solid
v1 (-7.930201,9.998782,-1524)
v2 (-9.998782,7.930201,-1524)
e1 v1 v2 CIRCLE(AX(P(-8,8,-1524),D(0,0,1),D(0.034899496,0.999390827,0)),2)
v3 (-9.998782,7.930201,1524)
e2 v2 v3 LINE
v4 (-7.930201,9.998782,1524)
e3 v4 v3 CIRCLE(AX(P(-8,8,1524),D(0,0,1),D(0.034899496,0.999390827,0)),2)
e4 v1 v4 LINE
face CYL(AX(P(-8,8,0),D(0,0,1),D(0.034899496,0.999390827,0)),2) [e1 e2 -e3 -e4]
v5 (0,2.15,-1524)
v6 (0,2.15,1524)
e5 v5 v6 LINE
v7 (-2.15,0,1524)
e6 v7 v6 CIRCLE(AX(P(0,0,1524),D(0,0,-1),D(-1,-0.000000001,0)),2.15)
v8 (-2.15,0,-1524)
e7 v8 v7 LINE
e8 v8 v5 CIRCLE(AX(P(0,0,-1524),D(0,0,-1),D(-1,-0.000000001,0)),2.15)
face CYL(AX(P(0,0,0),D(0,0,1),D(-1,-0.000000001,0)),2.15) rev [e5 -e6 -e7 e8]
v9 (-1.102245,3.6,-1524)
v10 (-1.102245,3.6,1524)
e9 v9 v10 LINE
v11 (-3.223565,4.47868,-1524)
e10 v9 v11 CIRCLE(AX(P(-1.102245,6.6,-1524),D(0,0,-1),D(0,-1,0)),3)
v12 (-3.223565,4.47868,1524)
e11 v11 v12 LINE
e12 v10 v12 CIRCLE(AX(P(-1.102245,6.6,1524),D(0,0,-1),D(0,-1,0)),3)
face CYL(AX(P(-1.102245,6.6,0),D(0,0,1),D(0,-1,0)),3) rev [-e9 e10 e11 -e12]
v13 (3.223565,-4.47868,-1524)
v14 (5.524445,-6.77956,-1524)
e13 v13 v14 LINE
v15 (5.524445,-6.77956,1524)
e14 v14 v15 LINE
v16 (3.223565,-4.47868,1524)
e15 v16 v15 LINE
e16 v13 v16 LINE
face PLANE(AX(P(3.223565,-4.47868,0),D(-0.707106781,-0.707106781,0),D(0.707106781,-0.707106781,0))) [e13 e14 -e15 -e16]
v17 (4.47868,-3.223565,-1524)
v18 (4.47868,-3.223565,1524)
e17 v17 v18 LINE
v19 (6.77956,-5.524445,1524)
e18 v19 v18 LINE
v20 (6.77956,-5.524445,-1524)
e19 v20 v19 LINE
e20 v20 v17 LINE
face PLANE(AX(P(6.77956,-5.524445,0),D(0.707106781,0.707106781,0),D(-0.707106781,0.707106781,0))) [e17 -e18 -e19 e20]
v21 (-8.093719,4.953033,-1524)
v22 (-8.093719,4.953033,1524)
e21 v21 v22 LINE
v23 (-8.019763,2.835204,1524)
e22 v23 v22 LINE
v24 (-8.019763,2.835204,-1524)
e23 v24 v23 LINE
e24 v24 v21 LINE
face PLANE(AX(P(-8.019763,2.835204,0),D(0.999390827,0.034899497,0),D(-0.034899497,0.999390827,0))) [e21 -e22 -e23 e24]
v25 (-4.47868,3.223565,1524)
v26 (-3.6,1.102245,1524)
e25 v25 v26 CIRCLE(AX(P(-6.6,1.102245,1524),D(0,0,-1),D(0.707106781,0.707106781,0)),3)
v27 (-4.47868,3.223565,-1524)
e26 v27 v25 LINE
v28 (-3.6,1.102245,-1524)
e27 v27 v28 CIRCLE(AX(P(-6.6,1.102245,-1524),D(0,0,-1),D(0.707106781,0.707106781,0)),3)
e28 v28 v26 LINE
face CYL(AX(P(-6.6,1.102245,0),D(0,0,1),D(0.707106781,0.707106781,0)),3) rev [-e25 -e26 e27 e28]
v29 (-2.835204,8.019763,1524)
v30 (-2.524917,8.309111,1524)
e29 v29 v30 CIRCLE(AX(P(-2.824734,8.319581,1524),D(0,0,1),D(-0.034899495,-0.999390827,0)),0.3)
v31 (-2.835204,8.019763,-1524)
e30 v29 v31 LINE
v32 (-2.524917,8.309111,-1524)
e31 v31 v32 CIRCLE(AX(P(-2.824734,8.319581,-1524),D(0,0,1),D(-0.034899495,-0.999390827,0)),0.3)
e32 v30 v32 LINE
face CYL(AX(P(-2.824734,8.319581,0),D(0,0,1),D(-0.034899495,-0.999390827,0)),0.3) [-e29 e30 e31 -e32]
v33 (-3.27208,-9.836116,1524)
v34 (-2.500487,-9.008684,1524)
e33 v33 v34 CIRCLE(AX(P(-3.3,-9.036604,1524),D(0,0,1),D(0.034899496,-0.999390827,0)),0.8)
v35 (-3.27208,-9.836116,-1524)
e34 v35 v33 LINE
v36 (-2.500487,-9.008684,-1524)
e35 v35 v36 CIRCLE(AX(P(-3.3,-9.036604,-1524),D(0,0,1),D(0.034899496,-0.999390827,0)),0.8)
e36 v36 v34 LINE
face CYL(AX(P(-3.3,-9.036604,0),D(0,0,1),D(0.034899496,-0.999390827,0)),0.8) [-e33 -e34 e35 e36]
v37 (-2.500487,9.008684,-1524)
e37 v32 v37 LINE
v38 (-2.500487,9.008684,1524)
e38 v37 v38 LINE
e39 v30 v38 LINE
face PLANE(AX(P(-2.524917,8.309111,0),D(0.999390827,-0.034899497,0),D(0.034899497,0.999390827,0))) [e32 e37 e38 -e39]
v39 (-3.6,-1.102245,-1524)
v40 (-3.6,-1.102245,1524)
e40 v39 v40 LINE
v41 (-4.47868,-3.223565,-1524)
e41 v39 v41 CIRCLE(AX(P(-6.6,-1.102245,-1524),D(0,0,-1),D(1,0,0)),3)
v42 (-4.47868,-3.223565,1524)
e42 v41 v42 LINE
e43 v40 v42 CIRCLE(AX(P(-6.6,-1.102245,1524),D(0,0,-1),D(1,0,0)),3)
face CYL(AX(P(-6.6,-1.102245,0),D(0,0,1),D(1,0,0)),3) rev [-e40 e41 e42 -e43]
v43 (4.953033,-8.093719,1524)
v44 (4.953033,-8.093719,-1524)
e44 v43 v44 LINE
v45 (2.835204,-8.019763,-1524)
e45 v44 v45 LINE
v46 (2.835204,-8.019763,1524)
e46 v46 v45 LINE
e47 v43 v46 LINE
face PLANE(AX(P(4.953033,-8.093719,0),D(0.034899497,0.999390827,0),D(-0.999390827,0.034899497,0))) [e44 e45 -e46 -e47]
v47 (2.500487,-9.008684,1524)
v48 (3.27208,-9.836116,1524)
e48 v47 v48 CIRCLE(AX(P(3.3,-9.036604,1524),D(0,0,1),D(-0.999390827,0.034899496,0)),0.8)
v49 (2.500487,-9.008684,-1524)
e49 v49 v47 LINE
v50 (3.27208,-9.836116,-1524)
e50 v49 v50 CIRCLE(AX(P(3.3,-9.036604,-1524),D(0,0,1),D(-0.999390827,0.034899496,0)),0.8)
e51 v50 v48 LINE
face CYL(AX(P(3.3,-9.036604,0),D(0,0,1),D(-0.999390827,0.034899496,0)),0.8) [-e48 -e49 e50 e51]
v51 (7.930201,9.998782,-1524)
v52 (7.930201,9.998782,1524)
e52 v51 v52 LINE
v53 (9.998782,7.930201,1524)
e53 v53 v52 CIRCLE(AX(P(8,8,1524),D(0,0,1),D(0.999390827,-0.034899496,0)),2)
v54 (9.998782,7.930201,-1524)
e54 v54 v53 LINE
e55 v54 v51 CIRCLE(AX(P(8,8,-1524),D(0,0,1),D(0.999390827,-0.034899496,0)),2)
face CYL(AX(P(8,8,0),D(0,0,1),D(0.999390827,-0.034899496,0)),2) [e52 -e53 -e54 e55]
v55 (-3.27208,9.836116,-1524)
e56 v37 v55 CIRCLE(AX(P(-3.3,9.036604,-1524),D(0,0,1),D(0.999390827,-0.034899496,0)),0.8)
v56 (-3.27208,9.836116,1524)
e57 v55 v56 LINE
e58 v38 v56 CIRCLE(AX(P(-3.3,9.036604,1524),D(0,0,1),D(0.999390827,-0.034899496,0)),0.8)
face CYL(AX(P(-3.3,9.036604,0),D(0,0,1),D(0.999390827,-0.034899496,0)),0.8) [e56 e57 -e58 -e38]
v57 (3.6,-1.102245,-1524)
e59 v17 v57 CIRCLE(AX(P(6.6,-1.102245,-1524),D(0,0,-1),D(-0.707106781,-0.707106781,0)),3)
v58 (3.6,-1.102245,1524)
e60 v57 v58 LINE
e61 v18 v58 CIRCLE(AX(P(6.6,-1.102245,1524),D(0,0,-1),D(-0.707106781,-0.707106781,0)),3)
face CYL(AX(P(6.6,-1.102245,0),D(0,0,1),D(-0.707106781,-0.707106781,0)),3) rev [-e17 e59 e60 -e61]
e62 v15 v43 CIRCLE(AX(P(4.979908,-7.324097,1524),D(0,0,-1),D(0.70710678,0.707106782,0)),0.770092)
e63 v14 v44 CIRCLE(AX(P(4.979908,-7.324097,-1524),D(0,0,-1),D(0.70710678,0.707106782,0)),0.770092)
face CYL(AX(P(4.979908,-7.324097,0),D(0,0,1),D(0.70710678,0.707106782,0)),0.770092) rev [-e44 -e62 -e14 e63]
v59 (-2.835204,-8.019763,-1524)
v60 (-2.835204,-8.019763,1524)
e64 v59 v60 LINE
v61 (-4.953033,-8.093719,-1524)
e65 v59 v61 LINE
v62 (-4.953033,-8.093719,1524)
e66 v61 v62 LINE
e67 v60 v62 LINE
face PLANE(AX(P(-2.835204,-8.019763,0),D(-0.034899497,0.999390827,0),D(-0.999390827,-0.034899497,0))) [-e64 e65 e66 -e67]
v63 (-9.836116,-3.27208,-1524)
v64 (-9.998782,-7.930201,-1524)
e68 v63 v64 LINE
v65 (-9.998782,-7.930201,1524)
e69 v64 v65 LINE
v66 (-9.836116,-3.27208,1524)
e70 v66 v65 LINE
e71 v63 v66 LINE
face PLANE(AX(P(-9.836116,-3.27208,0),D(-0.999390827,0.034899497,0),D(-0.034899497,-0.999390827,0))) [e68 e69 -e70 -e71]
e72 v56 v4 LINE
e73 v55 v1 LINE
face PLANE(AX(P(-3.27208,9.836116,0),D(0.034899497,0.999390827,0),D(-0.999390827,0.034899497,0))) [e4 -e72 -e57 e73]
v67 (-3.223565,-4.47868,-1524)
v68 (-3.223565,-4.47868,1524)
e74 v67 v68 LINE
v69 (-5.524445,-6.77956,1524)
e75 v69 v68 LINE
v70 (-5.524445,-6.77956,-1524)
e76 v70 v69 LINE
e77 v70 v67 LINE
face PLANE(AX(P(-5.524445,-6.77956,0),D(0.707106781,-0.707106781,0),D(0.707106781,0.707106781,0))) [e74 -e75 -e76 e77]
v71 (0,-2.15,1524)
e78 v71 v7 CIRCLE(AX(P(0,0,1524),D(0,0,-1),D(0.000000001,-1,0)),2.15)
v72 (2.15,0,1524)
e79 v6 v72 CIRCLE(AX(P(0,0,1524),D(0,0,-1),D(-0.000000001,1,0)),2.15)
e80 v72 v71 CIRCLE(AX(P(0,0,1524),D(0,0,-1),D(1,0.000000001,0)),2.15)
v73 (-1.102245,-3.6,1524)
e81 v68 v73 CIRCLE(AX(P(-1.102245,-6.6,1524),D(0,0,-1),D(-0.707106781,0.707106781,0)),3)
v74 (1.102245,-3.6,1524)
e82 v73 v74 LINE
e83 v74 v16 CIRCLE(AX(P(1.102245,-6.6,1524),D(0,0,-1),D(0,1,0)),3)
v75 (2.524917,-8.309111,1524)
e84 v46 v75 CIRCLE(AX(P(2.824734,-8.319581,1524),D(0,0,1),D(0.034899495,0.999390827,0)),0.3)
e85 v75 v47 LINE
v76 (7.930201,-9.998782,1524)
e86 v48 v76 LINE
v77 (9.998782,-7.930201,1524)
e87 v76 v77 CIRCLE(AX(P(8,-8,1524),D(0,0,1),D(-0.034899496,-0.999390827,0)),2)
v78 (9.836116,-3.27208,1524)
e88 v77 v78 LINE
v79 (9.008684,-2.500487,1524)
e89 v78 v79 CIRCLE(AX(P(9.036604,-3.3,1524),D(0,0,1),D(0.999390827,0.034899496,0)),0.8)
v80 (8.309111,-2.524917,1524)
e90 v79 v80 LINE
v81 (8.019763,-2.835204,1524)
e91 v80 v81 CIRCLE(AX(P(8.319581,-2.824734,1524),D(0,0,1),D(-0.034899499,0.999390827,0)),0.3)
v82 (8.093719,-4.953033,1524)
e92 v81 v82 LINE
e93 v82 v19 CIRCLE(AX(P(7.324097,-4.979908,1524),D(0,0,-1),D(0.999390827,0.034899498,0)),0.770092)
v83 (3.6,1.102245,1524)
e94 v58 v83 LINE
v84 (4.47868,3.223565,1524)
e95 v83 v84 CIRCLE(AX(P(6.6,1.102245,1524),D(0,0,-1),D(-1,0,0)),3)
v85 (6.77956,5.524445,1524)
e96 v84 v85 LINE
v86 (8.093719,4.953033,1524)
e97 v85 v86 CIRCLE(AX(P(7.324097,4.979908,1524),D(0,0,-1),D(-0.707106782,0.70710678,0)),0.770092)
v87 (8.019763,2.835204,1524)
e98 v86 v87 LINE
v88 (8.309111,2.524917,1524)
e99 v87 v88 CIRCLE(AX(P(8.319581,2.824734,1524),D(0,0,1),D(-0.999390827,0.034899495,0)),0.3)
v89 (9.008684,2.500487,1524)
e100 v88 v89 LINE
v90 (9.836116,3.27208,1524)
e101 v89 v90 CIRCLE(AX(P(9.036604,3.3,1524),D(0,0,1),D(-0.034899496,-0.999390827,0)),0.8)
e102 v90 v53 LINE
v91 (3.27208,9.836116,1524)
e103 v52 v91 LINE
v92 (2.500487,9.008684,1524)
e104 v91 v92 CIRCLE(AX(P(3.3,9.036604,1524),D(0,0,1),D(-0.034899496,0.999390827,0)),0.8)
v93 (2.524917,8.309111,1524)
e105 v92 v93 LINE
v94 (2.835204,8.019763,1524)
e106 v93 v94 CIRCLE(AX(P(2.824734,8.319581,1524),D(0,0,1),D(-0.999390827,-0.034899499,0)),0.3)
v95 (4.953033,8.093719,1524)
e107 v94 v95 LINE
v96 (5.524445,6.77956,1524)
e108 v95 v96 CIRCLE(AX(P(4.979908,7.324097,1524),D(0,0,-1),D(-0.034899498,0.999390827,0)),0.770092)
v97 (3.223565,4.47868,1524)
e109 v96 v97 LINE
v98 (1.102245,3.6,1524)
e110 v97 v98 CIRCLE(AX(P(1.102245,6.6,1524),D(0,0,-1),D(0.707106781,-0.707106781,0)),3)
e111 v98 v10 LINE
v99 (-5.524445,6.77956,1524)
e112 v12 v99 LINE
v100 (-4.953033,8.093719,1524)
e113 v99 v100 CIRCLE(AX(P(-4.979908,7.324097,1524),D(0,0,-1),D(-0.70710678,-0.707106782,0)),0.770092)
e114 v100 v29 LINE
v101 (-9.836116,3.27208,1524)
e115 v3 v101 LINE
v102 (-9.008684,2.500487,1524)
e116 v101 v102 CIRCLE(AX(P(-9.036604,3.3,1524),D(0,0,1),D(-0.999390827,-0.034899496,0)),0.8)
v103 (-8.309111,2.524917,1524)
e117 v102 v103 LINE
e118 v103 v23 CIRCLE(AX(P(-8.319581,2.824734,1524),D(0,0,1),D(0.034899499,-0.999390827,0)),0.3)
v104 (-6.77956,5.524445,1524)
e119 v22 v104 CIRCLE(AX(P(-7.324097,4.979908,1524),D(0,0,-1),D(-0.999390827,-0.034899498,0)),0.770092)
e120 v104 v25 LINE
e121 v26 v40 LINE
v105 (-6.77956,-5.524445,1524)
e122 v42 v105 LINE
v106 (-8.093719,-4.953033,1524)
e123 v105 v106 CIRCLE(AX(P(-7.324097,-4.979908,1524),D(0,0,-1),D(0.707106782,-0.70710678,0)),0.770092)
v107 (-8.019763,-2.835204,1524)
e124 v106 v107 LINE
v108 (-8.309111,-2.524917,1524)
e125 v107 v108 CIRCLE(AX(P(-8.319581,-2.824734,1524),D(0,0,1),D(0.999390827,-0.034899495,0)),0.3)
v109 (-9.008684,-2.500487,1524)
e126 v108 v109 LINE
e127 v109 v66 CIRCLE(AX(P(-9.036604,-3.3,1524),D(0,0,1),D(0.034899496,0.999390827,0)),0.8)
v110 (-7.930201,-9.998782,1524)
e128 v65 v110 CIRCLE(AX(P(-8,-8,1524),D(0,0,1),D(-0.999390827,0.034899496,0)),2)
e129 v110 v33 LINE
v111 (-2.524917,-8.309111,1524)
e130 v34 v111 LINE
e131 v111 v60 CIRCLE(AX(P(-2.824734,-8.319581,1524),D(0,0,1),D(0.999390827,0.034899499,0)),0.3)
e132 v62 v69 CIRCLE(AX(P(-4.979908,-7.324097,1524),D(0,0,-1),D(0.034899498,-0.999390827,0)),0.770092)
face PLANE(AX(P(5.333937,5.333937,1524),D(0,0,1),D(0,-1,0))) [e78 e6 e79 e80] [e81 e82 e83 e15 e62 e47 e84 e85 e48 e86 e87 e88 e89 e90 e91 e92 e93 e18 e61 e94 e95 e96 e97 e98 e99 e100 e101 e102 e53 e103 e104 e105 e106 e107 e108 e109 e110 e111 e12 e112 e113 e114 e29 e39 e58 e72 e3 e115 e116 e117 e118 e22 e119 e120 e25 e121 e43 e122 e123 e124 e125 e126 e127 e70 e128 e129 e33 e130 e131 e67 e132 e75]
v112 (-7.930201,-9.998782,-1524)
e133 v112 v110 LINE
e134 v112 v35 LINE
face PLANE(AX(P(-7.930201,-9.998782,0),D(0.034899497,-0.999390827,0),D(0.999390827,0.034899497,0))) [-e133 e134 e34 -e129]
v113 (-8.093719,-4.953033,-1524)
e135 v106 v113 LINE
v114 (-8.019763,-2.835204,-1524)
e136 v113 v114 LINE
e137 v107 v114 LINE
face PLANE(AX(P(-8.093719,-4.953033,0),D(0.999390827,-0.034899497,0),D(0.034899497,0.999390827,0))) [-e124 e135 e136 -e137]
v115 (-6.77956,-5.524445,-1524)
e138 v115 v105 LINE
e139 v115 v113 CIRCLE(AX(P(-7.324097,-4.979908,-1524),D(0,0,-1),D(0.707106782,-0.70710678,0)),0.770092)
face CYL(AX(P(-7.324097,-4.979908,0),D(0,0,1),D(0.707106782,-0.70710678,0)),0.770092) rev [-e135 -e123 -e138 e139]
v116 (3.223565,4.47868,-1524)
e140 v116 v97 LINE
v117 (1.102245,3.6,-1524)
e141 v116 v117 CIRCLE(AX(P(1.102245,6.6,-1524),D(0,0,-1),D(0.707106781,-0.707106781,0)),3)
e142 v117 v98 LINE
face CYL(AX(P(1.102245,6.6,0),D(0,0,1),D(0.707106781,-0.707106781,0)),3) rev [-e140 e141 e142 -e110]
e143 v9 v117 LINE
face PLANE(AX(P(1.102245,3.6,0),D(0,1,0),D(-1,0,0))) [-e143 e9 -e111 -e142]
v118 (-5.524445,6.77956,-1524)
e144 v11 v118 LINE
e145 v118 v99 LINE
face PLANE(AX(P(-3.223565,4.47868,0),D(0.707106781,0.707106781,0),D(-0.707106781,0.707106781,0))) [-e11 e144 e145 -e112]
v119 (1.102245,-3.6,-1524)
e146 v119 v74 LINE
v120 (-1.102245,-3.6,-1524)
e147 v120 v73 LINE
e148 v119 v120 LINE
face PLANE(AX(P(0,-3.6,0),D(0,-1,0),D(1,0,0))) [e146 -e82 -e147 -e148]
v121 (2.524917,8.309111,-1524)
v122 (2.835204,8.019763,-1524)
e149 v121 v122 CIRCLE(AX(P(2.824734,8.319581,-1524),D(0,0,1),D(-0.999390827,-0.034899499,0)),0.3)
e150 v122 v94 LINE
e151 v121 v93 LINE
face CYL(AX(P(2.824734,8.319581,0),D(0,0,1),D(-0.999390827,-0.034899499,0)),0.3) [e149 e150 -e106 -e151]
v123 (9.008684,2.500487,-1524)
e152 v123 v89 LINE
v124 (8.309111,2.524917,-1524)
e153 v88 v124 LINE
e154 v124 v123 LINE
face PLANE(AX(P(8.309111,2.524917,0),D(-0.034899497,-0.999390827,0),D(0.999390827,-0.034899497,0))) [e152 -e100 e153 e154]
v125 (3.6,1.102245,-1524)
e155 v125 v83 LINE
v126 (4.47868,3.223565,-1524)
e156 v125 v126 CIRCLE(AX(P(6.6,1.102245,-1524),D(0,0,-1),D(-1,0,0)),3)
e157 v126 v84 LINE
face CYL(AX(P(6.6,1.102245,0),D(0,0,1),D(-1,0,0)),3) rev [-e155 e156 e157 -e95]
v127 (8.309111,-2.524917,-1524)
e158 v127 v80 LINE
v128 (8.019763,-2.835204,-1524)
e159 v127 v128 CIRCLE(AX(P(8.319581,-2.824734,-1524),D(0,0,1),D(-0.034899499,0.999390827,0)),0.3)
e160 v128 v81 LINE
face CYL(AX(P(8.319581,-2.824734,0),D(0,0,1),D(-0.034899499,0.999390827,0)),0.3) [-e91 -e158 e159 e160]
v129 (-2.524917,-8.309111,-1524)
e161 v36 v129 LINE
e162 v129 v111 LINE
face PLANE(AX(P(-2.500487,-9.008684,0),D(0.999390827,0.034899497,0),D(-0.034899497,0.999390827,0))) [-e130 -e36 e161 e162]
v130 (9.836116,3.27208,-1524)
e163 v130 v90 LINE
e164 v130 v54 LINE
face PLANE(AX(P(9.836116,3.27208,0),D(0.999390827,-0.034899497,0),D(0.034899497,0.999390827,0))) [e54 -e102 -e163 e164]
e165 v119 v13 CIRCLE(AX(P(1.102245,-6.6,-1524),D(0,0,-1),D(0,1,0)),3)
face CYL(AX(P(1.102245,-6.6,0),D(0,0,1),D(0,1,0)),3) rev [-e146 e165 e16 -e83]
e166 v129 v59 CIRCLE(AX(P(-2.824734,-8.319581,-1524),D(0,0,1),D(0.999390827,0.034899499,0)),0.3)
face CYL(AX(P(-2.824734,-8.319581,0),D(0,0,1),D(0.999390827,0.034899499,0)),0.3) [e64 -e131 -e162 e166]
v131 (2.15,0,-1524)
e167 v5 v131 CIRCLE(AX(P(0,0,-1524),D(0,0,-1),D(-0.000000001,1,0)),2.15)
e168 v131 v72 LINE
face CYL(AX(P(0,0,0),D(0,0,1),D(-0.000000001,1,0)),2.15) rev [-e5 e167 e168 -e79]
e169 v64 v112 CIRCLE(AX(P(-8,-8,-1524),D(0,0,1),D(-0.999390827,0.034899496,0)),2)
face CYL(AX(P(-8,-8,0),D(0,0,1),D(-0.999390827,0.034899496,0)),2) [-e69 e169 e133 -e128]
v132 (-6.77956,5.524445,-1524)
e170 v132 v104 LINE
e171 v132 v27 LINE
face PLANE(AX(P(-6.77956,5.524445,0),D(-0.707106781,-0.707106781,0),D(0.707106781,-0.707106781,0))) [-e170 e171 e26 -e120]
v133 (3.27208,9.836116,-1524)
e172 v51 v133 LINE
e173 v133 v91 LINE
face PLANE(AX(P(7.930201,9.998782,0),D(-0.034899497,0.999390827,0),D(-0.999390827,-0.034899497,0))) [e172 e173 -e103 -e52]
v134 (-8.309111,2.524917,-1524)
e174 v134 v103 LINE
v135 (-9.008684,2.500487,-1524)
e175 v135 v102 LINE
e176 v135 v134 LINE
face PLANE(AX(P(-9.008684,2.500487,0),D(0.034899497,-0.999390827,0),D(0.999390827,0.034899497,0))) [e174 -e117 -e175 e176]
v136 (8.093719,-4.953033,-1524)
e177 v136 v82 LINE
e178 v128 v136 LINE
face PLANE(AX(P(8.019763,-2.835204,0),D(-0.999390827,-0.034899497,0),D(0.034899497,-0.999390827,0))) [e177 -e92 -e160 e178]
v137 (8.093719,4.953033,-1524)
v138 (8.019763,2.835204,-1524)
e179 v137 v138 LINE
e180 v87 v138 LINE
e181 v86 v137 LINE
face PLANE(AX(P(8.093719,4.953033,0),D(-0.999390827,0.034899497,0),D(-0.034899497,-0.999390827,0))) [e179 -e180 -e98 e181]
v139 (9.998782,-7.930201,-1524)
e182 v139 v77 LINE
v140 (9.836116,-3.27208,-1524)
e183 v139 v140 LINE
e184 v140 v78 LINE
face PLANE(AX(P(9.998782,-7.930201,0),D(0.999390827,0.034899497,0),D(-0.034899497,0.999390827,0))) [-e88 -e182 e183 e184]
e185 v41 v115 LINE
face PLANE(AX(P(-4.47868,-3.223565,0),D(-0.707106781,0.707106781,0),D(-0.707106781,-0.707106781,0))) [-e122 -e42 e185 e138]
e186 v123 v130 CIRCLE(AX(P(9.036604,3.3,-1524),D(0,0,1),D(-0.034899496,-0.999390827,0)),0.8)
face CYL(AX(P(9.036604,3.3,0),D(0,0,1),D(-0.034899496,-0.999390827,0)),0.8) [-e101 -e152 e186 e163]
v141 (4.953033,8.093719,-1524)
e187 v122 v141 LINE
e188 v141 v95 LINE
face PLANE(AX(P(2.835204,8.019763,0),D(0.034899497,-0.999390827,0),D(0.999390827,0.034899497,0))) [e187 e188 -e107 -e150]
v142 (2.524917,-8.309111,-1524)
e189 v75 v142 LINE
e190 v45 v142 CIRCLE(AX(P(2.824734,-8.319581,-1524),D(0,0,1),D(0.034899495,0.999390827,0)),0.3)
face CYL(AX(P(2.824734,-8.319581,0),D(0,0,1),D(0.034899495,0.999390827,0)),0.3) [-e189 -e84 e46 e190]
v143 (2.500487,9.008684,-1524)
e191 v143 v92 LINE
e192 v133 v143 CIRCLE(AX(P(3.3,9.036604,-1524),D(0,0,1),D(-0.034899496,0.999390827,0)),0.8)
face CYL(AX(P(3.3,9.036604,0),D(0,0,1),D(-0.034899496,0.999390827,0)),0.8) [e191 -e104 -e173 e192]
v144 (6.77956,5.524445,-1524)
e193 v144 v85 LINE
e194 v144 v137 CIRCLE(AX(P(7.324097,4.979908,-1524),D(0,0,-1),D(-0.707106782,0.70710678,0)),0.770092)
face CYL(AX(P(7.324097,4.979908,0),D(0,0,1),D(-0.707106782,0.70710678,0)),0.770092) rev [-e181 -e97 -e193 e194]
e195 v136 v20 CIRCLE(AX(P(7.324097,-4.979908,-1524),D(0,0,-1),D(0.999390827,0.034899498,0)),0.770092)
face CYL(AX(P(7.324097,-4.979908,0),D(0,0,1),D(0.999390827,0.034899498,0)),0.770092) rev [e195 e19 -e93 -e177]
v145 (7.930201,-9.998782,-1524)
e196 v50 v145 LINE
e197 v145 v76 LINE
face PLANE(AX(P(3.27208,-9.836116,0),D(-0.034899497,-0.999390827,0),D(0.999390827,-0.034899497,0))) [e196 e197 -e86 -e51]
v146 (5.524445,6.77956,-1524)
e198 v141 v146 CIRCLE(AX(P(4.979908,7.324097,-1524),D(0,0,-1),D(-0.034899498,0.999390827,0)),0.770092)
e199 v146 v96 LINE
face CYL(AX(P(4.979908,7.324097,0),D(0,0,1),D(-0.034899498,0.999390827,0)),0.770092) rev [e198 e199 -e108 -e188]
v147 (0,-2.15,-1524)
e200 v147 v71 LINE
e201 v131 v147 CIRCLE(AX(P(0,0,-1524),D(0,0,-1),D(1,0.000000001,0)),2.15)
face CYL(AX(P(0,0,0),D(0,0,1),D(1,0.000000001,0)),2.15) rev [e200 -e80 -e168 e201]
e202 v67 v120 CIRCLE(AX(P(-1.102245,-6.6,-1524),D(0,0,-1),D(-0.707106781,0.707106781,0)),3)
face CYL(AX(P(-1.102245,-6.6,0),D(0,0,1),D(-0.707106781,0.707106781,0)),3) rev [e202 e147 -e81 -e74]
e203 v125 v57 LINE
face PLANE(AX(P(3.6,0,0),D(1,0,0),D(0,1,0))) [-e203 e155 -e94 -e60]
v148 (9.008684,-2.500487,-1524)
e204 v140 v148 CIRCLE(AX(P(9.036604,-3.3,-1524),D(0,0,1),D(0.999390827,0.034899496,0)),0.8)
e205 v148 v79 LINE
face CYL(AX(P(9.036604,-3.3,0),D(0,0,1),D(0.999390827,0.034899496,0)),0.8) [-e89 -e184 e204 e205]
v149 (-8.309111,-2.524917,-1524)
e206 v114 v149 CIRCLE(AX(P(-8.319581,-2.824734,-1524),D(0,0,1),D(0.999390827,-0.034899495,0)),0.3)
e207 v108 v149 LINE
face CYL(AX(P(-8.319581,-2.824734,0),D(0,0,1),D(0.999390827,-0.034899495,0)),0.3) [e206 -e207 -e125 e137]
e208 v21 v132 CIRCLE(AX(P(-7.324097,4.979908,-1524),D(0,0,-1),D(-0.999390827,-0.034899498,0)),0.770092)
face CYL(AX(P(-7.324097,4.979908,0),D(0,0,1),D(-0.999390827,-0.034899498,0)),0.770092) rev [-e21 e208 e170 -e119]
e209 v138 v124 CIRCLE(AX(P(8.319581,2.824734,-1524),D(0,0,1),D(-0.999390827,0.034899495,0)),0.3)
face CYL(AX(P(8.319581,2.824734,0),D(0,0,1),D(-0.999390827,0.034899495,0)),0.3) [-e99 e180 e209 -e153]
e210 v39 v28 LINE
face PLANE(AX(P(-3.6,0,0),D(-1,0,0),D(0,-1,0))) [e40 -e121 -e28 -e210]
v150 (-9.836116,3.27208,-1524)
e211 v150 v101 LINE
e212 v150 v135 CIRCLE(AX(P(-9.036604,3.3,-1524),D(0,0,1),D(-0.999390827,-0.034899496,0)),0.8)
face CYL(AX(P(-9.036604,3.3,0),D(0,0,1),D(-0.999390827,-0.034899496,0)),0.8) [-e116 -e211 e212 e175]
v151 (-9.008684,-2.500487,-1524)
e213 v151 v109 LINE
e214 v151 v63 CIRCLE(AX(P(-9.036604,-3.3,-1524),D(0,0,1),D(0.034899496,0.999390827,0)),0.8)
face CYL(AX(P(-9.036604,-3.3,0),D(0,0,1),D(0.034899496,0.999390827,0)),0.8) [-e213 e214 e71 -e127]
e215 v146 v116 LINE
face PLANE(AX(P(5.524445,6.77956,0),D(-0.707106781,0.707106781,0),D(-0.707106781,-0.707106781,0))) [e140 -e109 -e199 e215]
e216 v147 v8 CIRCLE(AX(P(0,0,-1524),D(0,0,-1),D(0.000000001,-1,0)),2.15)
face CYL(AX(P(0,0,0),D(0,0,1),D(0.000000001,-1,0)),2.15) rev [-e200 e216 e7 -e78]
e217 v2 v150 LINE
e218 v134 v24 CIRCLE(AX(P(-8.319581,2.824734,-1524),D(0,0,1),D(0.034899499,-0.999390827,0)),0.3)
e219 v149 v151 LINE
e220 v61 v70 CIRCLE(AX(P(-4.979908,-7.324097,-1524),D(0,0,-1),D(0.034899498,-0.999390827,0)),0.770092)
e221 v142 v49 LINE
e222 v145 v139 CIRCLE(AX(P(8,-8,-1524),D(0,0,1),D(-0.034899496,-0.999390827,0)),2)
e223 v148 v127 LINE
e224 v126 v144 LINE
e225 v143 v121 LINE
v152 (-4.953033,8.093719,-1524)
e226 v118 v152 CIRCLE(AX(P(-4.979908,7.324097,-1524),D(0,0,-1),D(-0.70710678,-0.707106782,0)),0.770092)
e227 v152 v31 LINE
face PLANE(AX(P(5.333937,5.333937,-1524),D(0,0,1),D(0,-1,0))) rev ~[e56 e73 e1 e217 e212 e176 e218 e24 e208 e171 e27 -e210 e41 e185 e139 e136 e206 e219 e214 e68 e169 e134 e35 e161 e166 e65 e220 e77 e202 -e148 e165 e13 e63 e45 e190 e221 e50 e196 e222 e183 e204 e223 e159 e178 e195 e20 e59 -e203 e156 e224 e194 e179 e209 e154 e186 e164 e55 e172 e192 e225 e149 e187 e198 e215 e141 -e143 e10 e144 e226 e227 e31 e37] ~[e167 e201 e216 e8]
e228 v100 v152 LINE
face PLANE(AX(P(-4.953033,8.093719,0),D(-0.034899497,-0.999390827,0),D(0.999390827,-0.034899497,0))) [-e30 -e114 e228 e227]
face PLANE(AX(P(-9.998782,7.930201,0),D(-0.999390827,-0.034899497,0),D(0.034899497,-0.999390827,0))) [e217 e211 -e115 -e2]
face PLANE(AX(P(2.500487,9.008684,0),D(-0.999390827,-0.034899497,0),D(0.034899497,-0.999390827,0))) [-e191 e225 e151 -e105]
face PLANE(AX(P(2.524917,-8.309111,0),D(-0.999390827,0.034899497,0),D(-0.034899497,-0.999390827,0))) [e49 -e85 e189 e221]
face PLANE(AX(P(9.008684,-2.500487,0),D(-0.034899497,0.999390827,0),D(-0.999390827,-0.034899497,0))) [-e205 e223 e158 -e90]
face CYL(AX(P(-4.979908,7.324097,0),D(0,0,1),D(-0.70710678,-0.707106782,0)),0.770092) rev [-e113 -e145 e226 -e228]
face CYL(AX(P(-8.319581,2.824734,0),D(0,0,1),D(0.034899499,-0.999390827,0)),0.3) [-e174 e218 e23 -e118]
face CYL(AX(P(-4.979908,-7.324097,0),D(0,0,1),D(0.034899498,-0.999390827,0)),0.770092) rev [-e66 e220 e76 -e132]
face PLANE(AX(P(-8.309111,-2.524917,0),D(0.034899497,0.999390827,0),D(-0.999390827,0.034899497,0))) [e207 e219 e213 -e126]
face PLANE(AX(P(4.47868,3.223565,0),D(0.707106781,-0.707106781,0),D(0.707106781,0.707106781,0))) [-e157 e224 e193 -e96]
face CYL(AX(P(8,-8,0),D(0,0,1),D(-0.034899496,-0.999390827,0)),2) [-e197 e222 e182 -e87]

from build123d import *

# Parameters (mm, degrees)
BOSS_EXTRUDE1_DEPTH = 1524
CIRPATTERN1_COUNT   = 4


with BuildPart() as part:
    # Sketch3 → Boss-Extrude1 (new, symmetric)
    with BuildSketch(Plane.XY):
        with BuildLine():
            Line((-2.524916986, 8.30911066), (-2.500487338, 9.008684239))
            ThreePointArc((-2.500487338, 9.008684239), (-2.714917039, 9.582202525), (-3.272080403, 9.836116498))
            Line((-3.272080403, 9.836116498), (-7.930201007, 9.998781654))
            ThreePointArc((-7.930201007, 9.998781654), (-9.414213562, 9.414213562), (-9.998781654, 7.930201007))
            Line((-9.998781654, 7.930201007), (-9.836116498, 3.272080403))
            ThreePointArc((-9.836116498, 3.272080403), (-9.582202525, 2.714917039), (-9.008684239, 2.500487338))
            Line((-9.008684239, 2.500487338), (-8.30911066, 2.524916986))
            ThreePointArc((-8.30911066, 2.524916986), (-8.100174399, 2.620134726), (-8.019763261, 2.835204083))
            Line((-8.019763261, 2.835204083), (-8.093719461, 4.953032548))
            ThreePointArc((-8.093719461, 4.953032548), (-7.631170264, 5.686128657), (-6.779559917, 5.52444538))
            Line((-6.779559917, 5.52444538), (-4.478679656, 3.22356512))
            ThreePointArc((-4.478679656, 3.22356512), (-3.828361402, 2.250295073), (-3.6, 1.102244776))
            Line((-3.6, 1.102244776), (-3.6, 0))
            Line((-3.6, 0), (-2.15, 0))
            ThreePointArc((-2.15, 0), (-1.52027958, 1.52027958), (0, 2.15))
            Line((0, 2.15), (0, 3.6))
            Line((0, 3.6), (-1.102244776, 3.6))
            ThreePointArc((-1.102244776, 3.6), (-2.250295073, 3.828361402), (-3.22356512, 4.478679656))
            Line((-3.22356512, 4.478679656), (-5.52444538, 6.779559917))
            ThreePointArc((-5.52444538, 6.779559917), (-5.686128657, 7.631170264), (-4.953032548, 8.093719461))
            Line((-4.953032548, 8.093719461), (-2.835204083, 8.019763261))
            ThreePointArc((-2.835204083, 8.019763261), (-2.620134726, 8.100174399), (-2.524916986, 8.30911066))
        make_face()
    boss_extrude1 = extrude(amount=BOSS_EXTRUDE1_DEPTH, both=True)

    # CirPattern1: Boss-Extrude1 ×4 about axis
    cirpattern1_axis = Axis((0, 0, 0), (0, 0, 1))
    for i in range(1, CIRPATTERN1_COUNT):
        add(boss_extrude1.rotate(cirpattern1_axis, i * 360 / CIRPATTERN1_COUNT))


solid = part.part
